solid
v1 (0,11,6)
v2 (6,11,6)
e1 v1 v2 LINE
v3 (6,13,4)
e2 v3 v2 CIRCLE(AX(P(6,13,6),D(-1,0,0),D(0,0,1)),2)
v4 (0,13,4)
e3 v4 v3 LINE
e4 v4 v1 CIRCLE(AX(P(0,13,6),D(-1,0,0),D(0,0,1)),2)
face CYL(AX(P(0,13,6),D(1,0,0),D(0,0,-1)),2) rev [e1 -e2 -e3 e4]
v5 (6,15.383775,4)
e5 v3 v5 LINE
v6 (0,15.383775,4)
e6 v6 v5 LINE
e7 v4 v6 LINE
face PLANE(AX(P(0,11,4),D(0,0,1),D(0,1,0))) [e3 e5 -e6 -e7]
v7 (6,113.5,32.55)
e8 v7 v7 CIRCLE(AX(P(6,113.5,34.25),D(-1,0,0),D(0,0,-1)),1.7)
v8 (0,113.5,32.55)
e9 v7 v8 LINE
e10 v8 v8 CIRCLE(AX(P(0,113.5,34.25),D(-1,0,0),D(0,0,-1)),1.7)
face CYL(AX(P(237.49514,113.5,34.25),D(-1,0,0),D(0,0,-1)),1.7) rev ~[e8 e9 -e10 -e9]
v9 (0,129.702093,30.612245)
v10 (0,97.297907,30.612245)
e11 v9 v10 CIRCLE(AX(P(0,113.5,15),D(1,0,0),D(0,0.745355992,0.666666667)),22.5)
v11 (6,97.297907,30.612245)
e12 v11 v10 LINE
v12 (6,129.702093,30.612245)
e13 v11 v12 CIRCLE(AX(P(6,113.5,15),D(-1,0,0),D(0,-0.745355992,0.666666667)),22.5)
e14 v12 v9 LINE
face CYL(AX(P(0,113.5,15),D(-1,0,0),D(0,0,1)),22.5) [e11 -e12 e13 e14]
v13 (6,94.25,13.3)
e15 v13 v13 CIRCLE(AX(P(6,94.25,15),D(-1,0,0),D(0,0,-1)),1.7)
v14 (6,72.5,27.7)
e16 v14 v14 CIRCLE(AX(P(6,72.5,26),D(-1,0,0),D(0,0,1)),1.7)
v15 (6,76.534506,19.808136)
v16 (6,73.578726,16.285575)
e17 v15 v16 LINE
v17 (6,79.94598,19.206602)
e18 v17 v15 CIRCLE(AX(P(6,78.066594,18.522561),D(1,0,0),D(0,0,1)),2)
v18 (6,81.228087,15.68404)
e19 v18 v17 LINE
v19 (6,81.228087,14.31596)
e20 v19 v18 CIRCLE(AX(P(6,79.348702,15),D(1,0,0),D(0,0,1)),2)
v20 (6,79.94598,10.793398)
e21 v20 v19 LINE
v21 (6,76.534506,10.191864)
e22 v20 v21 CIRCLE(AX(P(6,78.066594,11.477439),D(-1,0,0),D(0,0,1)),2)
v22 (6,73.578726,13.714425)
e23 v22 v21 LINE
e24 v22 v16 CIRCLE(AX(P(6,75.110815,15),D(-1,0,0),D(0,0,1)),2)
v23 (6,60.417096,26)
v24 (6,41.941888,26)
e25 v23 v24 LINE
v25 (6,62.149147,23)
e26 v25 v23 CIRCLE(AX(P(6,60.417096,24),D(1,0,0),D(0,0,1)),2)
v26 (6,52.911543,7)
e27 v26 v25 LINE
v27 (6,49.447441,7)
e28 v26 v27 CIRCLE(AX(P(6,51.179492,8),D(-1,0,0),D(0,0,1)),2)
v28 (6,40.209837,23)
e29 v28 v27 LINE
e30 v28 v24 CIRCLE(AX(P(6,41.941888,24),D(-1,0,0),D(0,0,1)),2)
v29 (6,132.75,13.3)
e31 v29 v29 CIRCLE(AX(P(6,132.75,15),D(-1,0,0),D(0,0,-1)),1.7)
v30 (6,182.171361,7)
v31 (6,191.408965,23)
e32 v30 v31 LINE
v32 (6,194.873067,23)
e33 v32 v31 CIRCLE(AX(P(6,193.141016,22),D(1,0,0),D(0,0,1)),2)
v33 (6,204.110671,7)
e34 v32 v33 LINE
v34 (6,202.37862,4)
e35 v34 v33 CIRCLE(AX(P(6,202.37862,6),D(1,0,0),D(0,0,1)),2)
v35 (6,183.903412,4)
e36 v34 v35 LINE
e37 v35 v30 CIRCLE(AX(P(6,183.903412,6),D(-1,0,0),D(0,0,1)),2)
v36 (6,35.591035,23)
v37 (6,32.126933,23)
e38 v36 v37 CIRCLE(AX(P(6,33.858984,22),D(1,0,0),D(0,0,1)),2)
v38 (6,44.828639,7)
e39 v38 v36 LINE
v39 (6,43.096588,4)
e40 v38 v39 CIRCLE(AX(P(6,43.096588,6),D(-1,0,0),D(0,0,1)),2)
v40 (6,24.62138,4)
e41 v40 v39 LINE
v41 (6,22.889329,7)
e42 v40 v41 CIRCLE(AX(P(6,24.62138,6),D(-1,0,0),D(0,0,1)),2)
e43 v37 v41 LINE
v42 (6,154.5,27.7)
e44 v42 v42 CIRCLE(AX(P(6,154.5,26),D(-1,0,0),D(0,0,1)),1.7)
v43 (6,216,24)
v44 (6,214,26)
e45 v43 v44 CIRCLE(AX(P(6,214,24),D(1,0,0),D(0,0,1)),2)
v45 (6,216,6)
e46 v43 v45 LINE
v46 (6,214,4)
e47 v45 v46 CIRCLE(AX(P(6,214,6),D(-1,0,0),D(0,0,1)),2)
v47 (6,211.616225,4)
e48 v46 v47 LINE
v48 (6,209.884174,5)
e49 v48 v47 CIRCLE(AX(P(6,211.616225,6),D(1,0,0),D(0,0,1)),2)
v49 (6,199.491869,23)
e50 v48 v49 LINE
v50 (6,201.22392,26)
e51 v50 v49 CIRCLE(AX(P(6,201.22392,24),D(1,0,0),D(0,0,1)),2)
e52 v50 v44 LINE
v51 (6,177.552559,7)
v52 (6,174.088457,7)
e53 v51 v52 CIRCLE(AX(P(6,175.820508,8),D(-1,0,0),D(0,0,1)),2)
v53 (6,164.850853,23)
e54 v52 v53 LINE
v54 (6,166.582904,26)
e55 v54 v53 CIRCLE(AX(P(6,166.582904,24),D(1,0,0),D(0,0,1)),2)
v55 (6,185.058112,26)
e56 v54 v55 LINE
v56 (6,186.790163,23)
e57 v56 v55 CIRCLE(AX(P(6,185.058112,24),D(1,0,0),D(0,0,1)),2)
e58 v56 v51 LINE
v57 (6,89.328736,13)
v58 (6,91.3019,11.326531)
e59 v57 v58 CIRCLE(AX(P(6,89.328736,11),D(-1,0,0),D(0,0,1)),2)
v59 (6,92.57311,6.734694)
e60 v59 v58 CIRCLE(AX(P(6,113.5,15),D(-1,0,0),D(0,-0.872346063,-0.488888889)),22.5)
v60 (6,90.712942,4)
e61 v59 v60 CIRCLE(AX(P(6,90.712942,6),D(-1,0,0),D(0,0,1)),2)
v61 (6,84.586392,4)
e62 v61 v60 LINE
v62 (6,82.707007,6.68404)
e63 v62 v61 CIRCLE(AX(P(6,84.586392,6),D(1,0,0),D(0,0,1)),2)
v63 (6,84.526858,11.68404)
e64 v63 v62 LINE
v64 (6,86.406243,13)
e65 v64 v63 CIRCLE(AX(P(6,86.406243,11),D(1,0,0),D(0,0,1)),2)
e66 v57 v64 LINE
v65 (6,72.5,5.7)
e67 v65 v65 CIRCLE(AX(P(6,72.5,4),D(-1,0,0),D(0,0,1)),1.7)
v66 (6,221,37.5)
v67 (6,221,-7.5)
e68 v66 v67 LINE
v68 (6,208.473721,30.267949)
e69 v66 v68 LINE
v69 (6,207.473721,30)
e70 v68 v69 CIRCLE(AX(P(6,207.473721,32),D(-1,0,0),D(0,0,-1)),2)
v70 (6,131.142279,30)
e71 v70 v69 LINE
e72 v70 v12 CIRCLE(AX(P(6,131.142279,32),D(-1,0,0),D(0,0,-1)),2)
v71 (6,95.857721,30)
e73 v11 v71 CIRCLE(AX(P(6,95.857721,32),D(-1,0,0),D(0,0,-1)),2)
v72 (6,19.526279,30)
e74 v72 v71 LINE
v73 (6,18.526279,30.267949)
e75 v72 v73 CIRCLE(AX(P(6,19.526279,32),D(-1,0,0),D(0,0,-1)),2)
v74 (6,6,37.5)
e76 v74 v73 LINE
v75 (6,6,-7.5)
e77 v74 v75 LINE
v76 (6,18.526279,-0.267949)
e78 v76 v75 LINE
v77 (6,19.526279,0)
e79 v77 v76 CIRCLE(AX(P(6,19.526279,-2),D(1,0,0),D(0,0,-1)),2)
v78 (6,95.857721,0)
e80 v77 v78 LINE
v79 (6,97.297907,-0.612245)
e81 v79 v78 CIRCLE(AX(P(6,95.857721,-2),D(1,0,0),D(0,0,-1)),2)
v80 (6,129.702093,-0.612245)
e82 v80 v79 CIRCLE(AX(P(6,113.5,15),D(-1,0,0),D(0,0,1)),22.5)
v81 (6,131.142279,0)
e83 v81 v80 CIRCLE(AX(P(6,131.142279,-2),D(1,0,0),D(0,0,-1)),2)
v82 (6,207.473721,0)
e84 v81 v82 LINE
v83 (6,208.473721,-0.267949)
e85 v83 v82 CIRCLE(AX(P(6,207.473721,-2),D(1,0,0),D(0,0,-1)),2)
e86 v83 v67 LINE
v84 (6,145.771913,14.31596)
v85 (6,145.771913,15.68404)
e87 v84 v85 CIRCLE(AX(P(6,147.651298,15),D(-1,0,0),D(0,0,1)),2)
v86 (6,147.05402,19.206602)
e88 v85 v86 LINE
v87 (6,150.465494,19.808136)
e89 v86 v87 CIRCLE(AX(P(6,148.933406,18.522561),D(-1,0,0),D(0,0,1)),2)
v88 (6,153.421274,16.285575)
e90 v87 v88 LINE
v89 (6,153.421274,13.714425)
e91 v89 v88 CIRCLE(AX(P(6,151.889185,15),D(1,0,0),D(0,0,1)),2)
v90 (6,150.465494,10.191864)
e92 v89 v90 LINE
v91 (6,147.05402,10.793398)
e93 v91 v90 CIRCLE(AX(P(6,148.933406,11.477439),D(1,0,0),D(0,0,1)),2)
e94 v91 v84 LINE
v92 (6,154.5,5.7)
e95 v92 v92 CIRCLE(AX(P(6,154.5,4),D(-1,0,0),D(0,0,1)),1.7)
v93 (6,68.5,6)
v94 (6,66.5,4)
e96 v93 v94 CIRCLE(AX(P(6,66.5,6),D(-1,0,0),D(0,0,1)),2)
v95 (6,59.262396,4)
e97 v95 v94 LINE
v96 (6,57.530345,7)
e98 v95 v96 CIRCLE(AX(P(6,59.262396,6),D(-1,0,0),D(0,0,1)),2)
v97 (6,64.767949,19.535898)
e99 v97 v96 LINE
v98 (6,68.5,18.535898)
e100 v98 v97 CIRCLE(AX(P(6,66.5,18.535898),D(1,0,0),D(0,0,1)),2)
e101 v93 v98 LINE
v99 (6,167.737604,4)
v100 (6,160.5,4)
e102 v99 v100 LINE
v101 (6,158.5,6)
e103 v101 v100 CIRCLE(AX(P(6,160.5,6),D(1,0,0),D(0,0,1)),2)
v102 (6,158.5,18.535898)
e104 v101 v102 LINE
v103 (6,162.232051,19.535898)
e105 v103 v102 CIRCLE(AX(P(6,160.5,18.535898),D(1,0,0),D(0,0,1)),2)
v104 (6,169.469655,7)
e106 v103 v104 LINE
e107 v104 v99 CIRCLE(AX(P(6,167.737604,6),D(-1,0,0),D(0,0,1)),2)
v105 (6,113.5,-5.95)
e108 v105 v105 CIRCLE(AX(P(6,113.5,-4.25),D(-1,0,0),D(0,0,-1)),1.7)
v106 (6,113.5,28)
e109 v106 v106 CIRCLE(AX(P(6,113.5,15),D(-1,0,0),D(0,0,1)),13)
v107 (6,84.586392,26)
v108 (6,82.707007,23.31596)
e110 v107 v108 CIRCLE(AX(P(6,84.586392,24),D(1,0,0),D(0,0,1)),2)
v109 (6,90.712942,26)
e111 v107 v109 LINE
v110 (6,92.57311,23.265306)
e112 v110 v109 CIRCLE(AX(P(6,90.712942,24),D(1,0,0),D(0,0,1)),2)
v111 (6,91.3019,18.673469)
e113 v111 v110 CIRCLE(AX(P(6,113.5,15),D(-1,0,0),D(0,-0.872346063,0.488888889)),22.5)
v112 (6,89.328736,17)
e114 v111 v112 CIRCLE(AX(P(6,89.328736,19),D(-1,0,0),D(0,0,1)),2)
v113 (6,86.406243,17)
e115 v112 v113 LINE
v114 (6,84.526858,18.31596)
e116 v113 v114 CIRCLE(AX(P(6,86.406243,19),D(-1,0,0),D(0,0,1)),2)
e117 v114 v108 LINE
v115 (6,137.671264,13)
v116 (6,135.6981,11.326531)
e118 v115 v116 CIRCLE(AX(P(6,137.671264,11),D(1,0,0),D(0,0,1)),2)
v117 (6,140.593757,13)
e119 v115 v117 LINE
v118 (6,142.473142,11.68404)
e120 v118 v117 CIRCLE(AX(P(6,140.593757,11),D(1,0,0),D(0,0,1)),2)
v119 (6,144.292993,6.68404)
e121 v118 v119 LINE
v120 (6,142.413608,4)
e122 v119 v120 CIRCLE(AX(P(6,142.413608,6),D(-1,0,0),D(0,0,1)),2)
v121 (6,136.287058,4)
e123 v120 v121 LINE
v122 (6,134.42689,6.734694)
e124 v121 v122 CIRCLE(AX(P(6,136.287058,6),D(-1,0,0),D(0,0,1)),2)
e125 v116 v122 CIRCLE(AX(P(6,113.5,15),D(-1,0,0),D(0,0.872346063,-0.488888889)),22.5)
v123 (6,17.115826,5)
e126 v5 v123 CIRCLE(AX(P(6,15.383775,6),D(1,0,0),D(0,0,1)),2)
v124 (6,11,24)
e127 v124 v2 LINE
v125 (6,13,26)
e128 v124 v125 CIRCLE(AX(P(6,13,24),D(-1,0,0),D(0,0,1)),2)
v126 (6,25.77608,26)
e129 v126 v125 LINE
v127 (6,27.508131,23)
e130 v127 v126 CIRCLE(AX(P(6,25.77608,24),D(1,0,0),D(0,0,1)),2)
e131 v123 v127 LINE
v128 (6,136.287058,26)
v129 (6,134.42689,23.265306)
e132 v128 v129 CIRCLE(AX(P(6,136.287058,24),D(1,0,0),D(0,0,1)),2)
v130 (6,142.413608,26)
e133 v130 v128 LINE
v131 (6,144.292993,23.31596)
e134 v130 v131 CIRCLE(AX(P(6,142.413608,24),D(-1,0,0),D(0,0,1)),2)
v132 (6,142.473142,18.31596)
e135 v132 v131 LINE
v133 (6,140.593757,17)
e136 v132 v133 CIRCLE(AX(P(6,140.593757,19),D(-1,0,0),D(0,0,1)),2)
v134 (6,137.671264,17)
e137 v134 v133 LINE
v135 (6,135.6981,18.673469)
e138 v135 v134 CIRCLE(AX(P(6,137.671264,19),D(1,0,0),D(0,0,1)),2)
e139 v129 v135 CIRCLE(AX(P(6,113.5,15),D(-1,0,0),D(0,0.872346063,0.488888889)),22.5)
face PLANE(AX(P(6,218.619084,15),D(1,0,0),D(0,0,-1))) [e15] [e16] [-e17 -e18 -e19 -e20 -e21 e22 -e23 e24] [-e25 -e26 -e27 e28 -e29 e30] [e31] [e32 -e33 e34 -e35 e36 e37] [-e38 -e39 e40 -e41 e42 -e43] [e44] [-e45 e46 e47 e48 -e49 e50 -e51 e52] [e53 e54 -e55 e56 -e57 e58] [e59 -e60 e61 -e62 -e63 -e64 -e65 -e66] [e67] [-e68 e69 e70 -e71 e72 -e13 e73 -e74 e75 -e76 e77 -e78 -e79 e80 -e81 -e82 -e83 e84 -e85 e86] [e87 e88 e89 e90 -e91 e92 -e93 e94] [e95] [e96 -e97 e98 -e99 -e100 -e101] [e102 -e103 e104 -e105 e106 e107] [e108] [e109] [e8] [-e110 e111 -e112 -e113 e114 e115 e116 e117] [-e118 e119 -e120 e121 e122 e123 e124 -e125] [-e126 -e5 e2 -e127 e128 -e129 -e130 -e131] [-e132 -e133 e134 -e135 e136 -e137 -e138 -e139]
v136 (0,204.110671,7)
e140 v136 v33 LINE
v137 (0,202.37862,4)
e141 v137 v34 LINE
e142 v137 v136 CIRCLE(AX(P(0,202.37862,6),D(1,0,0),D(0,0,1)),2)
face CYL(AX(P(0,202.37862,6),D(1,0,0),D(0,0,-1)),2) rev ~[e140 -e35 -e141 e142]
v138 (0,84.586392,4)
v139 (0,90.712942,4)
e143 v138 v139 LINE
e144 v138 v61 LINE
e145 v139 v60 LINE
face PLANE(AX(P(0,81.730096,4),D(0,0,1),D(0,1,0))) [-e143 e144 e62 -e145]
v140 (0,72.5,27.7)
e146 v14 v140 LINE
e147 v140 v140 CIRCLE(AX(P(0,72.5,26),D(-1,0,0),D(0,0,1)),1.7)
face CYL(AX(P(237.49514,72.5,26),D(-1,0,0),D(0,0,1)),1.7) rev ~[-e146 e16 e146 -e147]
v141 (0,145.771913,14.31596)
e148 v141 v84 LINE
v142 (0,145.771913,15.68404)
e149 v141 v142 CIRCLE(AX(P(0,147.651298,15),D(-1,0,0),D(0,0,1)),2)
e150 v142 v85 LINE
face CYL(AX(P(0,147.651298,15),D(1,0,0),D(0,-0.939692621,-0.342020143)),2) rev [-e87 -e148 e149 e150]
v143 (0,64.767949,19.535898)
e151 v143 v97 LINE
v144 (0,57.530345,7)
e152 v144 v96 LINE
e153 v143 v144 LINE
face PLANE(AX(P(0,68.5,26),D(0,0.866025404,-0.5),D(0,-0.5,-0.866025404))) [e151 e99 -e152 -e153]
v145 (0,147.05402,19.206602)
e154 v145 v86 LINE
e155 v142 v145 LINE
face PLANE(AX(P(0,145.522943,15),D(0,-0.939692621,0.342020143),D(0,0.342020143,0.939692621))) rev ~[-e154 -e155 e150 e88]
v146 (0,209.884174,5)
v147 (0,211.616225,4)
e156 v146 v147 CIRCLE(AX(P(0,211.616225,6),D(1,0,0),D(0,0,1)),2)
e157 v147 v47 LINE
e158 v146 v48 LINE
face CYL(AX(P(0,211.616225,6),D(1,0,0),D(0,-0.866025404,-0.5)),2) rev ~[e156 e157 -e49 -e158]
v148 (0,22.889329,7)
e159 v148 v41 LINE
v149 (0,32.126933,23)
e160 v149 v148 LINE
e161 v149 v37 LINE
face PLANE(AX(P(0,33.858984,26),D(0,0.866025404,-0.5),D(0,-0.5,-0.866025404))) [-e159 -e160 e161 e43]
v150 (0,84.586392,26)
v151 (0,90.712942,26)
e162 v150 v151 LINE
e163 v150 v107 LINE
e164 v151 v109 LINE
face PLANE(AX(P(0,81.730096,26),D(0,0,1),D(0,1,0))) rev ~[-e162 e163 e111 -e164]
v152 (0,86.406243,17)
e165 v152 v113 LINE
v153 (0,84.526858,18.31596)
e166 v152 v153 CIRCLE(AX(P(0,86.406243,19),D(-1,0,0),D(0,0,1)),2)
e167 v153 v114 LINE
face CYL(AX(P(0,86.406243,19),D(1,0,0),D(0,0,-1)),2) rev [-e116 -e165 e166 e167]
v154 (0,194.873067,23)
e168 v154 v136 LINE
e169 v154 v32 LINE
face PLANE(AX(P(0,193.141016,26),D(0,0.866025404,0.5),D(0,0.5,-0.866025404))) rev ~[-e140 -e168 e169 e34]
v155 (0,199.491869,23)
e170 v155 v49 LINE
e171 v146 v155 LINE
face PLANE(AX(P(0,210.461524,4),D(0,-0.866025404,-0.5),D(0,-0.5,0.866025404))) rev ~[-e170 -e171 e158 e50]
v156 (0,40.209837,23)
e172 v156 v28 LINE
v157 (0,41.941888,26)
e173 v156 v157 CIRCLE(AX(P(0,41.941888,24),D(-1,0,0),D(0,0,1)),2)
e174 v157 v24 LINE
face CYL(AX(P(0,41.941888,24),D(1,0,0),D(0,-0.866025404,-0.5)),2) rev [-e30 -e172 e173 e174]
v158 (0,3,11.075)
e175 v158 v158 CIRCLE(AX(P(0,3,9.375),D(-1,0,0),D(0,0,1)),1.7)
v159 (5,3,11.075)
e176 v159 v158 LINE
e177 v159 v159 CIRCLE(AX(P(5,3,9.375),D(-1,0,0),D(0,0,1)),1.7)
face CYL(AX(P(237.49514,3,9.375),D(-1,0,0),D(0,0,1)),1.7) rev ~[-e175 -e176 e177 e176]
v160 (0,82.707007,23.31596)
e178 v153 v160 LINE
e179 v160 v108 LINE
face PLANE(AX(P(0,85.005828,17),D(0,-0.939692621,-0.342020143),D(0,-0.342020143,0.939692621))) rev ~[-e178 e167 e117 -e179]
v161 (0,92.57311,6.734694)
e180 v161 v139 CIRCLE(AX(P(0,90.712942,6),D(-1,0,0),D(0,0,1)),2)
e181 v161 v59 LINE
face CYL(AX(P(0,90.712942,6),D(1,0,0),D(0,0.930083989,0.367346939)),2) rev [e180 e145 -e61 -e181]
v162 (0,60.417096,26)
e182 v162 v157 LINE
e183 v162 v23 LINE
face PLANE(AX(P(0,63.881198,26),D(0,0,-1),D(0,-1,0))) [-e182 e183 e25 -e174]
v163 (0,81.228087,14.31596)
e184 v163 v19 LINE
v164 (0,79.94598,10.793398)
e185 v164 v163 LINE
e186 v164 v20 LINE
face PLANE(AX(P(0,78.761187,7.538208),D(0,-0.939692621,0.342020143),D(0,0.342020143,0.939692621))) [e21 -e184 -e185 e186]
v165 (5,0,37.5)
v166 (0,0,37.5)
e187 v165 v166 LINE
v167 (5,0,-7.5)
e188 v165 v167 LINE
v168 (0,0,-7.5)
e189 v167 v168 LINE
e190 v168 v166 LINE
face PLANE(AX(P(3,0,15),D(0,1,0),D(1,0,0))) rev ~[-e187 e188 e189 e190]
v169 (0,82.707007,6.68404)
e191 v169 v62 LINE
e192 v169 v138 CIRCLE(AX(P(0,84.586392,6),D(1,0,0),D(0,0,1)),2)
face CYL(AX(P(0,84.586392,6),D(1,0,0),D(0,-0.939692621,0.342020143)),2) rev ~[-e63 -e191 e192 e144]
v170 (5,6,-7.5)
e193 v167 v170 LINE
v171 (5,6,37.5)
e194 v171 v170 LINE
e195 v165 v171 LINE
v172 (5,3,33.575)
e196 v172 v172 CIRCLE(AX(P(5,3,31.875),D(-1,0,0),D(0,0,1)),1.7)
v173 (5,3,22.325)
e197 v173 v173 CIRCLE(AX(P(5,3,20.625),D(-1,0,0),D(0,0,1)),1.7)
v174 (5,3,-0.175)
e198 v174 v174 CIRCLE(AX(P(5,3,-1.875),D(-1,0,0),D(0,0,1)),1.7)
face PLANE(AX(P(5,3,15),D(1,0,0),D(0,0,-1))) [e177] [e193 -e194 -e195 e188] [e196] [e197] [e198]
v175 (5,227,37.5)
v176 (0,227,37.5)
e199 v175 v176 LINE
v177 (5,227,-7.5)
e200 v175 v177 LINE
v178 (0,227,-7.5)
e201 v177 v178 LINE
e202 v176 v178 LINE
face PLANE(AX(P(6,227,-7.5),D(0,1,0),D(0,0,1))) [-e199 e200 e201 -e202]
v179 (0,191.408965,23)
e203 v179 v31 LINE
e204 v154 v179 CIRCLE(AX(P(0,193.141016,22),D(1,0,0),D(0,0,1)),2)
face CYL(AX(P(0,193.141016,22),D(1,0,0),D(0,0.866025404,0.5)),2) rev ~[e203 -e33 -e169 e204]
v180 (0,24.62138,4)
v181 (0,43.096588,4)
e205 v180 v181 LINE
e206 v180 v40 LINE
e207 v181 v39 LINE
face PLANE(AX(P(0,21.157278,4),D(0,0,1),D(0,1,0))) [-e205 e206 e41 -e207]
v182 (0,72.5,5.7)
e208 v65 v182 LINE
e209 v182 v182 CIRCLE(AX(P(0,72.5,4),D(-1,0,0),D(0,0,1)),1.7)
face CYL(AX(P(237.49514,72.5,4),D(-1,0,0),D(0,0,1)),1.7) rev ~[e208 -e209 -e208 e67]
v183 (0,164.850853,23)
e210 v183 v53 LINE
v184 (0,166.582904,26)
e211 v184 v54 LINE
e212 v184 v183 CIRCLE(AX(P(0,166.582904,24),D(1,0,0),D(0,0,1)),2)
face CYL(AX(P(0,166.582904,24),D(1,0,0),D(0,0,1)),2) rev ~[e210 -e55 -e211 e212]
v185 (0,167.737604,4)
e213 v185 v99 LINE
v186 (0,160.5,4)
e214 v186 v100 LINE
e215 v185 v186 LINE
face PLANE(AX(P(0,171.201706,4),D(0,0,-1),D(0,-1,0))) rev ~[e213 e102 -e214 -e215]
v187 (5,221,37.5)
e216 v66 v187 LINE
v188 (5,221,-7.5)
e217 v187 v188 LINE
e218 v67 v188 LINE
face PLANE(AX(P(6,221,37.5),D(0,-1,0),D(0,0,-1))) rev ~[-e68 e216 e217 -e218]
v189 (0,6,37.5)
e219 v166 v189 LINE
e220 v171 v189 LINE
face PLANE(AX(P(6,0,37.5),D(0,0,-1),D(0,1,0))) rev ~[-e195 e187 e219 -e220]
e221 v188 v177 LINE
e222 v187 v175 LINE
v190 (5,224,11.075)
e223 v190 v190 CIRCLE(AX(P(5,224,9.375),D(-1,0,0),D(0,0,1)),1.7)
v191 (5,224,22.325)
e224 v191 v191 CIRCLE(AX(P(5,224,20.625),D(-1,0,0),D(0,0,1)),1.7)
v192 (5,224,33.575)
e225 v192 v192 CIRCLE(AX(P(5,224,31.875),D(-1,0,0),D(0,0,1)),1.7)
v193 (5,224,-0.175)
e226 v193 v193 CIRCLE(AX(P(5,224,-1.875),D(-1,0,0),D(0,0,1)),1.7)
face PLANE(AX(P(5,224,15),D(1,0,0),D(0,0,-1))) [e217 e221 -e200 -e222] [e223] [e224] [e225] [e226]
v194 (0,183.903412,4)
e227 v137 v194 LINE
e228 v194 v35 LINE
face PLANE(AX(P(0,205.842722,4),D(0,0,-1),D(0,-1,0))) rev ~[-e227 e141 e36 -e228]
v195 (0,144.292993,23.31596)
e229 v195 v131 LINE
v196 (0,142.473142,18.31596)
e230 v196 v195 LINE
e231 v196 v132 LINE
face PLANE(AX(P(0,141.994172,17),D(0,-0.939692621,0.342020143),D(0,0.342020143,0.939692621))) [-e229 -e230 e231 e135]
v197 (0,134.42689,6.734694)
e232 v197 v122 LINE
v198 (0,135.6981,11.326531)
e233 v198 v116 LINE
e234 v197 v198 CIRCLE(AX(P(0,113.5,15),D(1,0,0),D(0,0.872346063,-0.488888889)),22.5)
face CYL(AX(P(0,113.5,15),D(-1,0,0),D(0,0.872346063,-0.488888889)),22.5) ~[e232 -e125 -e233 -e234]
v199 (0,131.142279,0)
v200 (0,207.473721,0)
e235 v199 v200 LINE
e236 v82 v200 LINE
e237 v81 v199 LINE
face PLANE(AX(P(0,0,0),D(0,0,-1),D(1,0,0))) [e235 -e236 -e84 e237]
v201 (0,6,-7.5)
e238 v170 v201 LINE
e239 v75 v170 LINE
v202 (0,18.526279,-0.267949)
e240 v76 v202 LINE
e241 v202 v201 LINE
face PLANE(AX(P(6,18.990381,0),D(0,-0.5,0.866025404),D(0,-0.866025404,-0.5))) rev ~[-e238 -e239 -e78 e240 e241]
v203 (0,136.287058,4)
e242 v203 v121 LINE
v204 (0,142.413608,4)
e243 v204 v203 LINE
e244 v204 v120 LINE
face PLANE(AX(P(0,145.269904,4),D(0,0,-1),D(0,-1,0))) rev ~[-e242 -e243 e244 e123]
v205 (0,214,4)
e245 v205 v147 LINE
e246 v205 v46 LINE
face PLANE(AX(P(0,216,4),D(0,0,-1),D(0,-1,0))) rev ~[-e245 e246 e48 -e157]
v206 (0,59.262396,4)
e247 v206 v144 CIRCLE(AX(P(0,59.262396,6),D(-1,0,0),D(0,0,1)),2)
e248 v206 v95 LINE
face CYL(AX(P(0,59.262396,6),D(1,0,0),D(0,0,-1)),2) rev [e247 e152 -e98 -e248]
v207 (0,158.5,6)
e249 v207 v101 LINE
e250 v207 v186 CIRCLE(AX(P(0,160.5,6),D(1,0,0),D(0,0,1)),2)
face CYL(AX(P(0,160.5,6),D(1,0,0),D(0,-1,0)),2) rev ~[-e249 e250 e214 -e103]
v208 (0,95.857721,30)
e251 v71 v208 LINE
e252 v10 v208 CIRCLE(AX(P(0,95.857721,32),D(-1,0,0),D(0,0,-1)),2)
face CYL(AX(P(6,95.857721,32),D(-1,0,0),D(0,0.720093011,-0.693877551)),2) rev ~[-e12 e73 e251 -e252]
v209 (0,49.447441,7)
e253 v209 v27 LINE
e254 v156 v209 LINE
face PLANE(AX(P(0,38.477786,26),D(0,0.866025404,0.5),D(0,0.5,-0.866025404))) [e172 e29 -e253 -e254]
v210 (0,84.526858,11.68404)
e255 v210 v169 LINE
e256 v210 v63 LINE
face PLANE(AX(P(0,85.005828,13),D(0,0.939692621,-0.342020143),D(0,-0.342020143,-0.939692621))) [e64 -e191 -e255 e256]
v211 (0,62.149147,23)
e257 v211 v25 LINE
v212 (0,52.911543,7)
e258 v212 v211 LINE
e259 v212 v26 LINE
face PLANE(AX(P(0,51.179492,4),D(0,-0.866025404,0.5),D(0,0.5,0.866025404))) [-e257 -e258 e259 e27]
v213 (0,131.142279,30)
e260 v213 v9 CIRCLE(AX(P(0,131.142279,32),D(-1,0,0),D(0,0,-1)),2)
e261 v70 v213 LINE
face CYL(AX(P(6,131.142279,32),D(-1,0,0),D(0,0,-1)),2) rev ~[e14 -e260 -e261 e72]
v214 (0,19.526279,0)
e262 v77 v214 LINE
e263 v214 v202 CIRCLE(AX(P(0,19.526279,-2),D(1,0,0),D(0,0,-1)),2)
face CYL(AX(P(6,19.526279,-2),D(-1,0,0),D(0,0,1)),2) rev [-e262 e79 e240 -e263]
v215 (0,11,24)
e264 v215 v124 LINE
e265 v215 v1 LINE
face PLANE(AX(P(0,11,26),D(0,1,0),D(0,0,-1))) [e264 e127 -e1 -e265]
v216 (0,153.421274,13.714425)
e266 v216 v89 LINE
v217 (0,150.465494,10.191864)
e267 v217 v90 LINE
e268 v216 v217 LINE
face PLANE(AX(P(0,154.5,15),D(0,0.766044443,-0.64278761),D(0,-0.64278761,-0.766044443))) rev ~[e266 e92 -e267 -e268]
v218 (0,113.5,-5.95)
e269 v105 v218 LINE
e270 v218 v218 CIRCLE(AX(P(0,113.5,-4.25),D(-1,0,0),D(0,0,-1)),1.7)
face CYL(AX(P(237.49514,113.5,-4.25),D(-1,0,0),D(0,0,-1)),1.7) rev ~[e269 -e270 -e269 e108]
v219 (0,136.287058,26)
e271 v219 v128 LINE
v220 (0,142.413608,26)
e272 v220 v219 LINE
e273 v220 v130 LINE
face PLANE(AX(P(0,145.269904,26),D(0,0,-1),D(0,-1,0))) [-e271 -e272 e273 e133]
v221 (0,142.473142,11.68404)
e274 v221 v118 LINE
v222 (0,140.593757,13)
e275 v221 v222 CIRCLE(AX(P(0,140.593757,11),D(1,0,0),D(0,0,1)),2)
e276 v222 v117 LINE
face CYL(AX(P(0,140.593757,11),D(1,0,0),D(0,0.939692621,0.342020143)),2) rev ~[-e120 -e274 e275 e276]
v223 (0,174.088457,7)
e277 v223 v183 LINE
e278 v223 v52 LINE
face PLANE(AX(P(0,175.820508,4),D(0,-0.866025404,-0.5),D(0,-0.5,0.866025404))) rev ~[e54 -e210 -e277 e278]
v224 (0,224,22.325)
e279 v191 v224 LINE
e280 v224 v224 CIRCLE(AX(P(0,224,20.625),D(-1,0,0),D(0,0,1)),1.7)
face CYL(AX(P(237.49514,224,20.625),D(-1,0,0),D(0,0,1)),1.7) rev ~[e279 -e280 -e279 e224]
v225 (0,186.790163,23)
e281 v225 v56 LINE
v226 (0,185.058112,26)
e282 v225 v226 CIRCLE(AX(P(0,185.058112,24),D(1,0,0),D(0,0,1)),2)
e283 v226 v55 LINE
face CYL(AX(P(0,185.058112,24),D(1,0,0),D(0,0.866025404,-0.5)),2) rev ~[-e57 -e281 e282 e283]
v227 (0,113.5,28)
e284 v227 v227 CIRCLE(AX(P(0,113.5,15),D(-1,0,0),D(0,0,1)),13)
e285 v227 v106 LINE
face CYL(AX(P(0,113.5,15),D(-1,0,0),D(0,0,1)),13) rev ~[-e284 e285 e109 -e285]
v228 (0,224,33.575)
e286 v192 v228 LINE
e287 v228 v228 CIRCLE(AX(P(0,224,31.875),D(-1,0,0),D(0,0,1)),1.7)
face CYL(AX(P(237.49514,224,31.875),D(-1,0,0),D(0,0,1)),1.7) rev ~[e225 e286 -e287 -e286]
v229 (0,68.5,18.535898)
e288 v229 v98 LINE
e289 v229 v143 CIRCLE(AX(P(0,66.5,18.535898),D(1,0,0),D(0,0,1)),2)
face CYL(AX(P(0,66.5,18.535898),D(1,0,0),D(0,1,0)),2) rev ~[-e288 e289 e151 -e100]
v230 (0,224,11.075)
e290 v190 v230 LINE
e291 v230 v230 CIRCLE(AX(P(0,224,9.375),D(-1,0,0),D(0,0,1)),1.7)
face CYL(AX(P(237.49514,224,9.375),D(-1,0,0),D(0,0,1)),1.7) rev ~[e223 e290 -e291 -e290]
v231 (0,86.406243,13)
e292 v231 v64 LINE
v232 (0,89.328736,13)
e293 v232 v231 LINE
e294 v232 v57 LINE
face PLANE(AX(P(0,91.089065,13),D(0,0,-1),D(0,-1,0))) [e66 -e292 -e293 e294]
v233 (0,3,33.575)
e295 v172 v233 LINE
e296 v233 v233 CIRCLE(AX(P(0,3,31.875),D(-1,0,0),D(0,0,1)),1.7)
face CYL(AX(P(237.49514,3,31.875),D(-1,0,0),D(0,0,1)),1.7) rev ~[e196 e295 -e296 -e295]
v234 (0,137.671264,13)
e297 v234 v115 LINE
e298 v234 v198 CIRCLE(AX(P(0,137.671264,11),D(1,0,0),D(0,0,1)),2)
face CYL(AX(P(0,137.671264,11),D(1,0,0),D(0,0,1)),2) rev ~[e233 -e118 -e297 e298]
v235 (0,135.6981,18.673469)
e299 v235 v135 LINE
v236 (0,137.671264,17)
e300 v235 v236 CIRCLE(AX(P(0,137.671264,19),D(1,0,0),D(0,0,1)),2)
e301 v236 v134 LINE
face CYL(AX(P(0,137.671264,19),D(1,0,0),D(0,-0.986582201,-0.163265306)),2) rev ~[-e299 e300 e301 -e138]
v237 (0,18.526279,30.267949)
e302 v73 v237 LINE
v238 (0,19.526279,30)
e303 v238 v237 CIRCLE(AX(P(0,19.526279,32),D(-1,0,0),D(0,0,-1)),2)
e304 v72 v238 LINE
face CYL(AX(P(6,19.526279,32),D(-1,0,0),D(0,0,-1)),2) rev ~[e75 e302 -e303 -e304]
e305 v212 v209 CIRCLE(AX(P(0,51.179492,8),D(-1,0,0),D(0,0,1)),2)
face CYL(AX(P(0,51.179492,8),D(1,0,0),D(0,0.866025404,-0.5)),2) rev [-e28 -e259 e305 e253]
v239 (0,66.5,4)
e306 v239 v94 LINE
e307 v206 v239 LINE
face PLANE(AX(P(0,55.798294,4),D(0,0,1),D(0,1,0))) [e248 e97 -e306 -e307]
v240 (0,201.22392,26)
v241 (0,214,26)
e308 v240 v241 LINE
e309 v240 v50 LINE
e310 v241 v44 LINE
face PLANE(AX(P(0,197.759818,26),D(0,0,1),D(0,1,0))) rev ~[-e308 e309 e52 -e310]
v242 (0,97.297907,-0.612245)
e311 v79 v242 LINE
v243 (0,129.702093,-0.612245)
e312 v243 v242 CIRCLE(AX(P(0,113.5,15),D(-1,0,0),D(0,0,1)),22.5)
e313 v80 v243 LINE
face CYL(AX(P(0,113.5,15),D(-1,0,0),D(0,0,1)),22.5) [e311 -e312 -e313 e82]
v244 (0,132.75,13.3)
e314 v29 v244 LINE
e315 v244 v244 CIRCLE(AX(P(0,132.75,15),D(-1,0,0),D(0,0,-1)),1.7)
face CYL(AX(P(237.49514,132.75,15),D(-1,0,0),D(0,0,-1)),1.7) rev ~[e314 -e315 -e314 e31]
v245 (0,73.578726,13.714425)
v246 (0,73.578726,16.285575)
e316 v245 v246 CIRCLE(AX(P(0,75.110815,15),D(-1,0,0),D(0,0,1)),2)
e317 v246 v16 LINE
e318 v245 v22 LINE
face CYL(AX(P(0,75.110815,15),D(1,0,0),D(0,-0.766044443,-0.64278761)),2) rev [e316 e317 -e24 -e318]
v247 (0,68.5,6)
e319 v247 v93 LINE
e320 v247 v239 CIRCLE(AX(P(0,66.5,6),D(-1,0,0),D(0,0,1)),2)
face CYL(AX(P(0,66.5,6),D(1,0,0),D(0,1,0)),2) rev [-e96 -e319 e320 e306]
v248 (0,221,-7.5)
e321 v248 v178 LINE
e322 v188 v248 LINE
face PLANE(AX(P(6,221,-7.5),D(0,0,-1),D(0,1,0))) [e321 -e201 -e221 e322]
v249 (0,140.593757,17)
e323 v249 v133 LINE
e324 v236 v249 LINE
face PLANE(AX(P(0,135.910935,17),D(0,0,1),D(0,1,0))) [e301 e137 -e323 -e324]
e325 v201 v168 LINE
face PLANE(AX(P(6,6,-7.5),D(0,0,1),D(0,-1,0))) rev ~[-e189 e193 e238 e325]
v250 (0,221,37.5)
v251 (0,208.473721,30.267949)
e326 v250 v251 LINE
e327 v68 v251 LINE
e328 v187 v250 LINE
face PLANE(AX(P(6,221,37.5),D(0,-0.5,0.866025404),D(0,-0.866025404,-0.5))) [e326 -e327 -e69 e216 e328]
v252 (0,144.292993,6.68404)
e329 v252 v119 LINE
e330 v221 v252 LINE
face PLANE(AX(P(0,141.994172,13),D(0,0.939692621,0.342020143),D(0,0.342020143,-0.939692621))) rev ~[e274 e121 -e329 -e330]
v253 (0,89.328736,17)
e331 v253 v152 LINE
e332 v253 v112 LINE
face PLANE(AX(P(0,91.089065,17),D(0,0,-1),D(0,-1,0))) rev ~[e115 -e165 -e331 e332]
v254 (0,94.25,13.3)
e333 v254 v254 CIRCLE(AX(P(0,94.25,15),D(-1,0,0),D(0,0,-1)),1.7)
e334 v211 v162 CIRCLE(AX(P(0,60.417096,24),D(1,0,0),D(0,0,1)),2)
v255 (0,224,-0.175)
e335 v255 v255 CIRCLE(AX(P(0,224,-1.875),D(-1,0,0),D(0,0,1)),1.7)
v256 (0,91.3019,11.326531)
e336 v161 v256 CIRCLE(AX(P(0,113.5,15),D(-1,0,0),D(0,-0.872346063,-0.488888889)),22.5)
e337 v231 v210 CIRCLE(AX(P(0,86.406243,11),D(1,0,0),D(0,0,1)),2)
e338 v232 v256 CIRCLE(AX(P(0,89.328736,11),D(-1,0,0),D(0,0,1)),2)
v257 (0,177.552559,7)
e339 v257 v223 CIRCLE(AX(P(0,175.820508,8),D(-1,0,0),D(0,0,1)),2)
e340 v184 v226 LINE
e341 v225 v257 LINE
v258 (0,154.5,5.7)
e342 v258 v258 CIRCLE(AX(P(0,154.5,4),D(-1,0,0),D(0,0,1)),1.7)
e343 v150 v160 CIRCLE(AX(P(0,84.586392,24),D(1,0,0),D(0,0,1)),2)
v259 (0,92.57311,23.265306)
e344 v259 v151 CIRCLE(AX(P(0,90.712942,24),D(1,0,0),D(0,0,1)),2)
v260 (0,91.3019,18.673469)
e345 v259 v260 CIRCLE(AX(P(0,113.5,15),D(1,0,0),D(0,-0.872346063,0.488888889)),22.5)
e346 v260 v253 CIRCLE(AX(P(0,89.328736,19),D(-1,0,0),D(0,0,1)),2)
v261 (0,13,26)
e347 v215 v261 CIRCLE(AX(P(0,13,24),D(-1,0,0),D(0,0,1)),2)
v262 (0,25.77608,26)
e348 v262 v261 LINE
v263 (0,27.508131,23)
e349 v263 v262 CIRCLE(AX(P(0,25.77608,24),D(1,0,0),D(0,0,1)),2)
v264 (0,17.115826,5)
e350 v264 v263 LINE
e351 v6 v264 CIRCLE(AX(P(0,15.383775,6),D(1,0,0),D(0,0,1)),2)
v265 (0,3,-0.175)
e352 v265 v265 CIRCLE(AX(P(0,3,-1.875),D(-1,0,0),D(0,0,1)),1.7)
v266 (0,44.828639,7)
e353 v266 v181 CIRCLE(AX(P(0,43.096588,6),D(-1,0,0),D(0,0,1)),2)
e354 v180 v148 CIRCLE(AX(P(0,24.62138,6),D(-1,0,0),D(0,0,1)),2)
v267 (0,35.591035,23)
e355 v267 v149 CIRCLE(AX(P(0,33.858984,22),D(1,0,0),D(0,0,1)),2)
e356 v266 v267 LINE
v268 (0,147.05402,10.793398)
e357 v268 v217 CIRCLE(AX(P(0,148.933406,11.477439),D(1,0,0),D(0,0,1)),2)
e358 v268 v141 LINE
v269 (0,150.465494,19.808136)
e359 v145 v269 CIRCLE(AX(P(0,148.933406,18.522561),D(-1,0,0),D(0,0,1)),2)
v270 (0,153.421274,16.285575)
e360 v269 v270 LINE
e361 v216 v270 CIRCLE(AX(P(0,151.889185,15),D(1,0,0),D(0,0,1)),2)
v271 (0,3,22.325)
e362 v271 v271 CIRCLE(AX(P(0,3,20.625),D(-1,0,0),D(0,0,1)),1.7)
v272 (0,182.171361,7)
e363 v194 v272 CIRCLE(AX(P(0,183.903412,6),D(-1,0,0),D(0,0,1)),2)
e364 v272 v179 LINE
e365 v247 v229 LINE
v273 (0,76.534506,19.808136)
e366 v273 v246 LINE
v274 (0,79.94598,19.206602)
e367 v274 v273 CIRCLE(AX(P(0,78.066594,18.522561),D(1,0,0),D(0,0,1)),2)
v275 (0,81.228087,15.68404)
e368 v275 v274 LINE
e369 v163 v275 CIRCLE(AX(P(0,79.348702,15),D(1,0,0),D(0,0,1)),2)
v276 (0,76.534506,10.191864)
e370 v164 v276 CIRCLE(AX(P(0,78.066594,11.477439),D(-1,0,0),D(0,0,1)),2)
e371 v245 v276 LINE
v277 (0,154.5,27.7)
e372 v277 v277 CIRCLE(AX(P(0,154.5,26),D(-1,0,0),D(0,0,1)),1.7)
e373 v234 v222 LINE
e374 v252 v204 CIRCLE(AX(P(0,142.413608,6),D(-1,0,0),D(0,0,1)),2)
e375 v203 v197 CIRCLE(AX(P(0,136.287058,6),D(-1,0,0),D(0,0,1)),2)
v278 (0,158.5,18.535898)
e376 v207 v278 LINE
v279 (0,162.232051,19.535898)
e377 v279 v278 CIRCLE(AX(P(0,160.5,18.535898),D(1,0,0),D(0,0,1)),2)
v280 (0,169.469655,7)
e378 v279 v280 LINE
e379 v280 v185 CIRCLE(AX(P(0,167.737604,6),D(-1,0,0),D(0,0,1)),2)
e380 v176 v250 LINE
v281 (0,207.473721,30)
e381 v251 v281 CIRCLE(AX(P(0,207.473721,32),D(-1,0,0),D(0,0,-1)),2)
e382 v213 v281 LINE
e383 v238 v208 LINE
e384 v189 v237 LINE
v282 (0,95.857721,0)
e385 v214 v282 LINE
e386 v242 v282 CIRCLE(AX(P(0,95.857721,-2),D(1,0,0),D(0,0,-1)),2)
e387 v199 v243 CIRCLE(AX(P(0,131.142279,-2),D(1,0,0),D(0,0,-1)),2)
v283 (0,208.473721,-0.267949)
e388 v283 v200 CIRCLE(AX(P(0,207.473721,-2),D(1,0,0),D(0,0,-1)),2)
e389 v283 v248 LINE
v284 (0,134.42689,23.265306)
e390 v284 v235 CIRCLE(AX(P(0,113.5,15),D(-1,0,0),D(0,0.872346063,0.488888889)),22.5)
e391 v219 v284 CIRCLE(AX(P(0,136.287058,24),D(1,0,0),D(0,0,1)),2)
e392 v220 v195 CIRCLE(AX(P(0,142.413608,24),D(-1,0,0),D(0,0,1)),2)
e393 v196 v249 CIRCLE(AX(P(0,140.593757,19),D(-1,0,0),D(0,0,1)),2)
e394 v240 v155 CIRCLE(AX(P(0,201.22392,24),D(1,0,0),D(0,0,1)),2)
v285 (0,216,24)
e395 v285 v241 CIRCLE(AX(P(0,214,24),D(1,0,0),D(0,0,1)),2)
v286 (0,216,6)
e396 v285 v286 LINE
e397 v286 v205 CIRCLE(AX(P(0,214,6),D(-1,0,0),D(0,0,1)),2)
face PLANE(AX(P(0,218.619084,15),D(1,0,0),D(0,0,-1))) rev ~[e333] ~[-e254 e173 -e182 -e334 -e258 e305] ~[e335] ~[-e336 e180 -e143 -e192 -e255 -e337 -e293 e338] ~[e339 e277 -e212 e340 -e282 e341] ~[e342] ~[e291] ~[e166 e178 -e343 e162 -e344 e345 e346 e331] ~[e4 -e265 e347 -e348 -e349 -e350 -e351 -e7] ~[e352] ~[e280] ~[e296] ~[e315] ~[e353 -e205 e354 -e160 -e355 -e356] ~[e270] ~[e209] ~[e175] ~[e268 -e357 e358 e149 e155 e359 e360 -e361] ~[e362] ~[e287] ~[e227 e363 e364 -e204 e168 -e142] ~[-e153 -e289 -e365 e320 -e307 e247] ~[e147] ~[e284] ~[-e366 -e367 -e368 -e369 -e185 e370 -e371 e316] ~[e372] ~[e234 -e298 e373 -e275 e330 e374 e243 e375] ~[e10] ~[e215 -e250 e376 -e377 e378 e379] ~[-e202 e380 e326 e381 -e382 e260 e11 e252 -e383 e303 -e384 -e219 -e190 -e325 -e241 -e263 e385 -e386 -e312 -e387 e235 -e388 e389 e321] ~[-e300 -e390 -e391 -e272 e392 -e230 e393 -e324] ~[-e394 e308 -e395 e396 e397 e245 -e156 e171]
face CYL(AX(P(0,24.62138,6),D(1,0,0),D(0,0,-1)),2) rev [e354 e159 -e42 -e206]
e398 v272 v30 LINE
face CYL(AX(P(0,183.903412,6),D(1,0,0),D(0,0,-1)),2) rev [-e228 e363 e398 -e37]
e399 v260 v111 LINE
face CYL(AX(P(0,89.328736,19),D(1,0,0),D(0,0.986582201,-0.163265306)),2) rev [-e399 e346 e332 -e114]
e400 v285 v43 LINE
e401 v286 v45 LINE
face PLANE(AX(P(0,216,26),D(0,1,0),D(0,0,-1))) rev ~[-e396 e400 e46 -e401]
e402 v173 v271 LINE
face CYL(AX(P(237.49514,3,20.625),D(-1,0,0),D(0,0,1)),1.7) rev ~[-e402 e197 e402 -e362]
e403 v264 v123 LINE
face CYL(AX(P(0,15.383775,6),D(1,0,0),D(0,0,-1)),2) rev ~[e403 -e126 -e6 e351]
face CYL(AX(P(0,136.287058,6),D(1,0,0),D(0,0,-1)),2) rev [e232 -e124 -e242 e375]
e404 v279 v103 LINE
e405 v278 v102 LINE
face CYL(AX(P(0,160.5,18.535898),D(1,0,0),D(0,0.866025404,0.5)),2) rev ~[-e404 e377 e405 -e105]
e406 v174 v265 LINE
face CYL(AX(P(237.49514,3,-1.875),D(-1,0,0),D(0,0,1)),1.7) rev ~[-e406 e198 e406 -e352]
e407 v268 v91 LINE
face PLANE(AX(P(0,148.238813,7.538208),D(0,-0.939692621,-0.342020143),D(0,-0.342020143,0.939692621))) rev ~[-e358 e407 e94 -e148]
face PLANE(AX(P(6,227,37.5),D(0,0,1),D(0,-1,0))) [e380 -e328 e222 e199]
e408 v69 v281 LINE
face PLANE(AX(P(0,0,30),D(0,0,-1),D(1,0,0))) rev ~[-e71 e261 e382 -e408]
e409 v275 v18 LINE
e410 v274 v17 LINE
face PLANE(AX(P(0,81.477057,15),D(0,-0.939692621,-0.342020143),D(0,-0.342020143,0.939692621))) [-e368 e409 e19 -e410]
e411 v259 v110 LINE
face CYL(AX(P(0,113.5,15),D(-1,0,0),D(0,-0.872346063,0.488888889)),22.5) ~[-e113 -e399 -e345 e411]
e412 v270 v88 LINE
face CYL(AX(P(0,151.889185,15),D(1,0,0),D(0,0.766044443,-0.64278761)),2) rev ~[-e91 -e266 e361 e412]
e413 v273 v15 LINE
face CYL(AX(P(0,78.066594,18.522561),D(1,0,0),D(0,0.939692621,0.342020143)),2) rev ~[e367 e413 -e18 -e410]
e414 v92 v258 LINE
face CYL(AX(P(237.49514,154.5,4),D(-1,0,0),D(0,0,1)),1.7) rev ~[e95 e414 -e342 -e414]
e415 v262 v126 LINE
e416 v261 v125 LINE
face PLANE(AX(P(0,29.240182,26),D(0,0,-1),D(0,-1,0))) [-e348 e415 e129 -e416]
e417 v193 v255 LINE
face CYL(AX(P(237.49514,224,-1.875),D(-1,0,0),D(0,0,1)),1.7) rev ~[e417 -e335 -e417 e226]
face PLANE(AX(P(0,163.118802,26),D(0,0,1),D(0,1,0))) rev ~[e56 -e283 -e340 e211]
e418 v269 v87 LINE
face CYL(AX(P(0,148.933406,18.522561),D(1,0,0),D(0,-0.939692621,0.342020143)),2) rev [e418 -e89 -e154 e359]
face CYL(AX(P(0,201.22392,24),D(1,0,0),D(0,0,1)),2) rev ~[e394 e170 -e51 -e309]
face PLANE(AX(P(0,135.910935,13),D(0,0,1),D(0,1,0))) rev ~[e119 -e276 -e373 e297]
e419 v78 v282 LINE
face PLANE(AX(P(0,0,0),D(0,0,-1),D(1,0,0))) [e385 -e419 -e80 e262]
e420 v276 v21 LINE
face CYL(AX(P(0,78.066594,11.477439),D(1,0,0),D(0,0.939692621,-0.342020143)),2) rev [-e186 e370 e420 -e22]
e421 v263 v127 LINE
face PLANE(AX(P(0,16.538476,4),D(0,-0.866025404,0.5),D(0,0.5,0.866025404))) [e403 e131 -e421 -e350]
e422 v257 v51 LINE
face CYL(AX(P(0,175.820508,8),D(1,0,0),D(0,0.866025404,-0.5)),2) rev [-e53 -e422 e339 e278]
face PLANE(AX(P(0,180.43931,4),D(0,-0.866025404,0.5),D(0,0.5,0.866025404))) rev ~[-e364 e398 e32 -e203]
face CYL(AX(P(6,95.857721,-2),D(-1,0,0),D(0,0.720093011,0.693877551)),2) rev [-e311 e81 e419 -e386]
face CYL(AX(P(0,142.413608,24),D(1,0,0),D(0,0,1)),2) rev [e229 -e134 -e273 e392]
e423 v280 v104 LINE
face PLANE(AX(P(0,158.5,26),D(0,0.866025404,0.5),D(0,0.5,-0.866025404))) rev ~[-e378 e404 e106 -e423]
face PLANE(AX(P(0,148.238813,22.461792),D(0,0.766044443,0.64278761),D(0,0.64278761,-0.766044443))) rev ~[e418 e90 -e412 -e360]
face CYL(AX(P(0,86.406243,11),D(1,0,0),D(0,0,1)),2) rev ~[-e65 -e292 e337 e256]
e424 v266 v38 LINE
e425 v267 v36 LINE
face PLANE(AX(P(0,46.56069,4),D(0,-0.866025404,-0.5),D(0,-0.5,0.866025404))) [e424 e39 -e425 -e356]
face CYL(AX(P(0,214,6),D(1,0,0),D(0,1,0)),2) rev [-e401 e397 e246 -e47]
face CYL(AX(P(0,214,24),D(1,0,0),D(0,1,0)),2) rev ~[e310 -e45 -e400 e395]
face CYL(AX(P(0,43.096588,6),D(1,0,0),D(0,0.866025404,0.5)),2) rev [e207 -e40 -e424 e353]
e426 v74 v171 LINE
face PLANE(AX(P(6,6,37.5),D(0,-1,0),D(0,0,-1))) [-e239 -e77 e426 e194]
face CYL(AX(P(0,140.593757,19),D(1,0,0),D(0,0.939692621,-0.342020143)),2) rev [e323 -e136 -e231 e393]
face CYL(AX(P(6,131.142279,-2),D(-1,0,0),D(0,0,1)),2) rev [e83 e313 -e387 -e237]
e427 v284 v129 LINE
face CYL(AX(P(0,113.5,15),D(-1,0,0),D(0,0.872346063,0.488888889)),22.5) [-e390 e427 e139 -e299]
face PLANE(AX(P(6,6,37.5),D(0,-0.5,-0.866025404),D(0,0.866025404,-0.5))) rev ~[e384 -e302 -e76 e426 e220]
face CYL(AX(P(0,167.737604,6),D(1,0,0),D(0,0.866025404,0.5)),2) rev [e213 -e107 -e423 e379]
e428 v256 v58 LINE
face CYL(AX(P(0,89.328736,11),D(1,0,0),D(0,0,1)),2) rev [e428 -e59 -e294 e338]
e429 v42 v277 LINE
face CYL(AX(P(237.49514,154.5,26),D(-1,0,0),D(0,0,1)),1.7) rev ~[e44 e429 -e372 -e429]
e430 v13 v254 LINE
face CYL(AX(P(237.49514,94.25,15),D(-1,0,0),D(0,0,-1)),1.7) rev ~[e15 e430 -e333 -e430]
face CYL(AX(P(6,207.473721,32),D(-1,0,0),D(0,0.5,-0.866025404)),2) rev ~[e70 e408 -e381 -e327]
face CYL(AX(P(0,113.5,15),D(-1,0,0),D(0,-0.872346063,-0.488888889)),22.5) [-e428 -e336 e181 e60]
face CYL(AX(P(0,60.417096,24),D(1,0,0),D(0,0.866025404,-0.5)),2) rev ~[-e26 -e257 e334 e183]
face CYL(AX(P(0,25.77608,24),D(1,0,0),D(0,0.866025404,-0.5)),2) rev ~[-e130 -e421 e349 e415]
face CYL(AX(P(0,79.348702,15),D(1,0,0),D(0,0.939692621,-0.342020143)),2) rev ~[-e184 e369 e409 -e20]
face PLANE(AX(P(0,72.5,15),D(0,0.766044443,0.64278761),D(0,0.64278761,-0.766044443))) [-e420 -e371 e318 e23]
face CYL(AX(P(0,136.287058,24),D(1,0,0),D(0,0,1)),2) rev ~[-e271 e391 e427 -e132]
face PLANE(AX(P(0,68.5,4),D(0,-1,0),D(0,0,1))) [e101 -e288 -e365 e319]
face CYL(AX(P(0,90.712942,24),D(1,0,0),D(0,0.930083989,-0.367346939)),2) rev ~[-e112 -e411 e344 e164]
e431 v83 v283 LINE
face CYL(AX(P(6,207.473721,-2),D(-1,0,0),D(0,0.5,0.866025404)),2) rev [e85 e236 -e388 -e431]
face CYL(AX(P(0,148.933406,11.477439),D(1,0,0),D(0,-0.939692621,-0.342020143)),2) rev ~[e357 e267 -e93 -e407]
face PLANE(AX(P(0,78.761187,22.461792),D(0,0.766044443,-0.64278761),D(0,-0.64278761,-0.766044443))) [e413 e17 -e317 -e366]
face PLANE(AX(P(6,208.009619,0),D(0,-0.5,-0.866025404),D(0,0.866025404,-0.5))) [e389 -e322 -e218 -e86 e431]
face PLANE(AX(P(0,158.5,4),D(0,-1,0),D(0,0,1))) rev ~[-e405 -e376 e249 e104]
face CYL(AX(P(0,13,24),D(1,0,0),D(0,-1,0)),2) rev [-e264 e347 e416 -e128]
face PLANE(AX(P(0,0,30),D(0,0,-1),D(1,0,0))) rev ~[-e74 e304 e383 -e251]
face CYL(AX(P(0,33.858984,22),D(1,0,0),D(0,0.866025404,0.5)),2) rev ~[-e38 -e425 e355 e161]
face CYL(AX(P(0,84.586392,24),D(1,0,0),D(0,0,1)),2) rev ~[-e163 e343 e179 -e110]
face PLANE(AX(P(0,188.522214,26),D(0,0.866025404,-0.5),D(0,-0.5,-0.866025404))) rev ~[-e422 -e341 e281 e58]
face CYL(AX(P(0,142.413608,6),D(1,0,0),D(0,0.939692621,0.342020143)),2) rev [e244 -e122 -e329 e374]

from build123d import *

# Parameters (mm, degrees)
SKETCH_1_W          = 6
SKETCH_1_H          = 30
EXTRUDE_1_DEPTH     = 227
SKETCH_2_R          = 22.5
EXTRUDE_2_DEPTH     = 6
SKETCH_3_R          = 13
CUT_EXTRUDE_1_DEPTH = 231.154839184
HOLE_WIZARD_M32_D   = 3.4
HOLE_WIZARD_M33_D   = 3.4
EXTRUDE_3_DEPTH     = 6
HOLE_WIZARD_M31_D   = 3.4
SKETCH_14_W         = 45
SKETCH_14_H         = 6
CUT_EXTRUDE_2_DEPTH = 1
CUT_EXTRUDE_3_REACH = 232.155
FILLET_1_R          = 2


with BuildPart() as part:
    # Sketch 1 → Extrude 1 (new body)
    with BuildSketch(Plane(origin=(0, 0, 0), x_dir=(1, 0, 0), z_dir=(0, 1, 0))):
        with Locations((3, -15)):
            Rectangle(SKETCH_1_W, SKETCH_1_H)
    extrude(amount=EXTRUDE_1_DEPTH)

    # Sketch 2 → Extrude 2 (add)
    with BuildSketch(Plane.ZY):
        with Locations((15, 113.5)):
            Circle(SKETCH_2_R)
    extrude(amount=-EXTRUDE_2_DEPTH)

    # Sketch 3 → Cut-Extrude 1 (cut, through all)
    with BuildSketch(Plane.ZY):
        with Locations((15, 113.5)):
            Circle(SKETCH_3_R)
    extrude(amount=-CUT_EXTRUDE_1_DEPTH, mode=Mode.SUBTRACT)

    # Hole Wizard M32 (through all)
    with Locations(Plane(origin=(6, -25.024735225, 7.262908886), x_dir=(0, 0, 1), z_dir=(1, 0, 0))):
        with Locations((7.737091114, -157.774735225), (-11.512908886, -138.524735225), (7.737091114, -119.274735225), (26.987091114, -138.524735225)):
            Hole(HOLE_WIZARD_M32_D / 2)

    # Hole Wizard M33 (through all)
    with Locations(Plane(origin=(6, 0, 0), x_dir=(0, 0, -1), z_dir=(1, 0, 0))):
        with Locations((-26, 154.5), (-4, 154.5), (-4, 72.5), (-26, 72.5)):
            Hole(HOLE_WIZARD_M33_D / 2)

    # Sketch 11 → Extrude 3 (add)
    with BuildSketch(Plane(origin=(6, 0, 0), x_dir=(0, 0, -1), z_dir=(1, 0, 0))):
        Polygon((-37.5, 221), (-30, 208.009618943), (0, 208.009618943), (7.5, 221), (7.5, 227), (-37.5, 227), align=None)
        Polygon((0, 18.990381057), (7.5, 6), (7.5, 0), (-37.5, 0), (-37.5, 6), (-30, 18.990381057), align=None)
    extrude(amount=-EXTRUDE_3_DEPTH)

    # Hole Wizard M31 (through all)
    with Locations(Plane(origin=(6, 0, 0), x_dir=(0, 0, -1), z_dir=(1, 0, 0))):
        with Locations((-31.875, 224), (-20.625, 224), (-9.375, 224), (1.875, 224), (-31.875, 3), (-20.625, 3), (-9.375, 3), (1.875, 3)):
            Hole(HOLE_WIZARD_M31_D / 2)

    # Sketch 14 → Cut-Extrude 2 (cut)
    with BuildSketch(Plane(origin=(6, 0, 0), x_dir=(0, 0, -1), z_dir=(1, 0, 0))):
        with Locations((-15, 224)):
            Rectangle(SKETCH_14_W, SKETCH_14_H)
        with Locations((-15, 3)):
            Rectangle(SKETCH_14_W, SKETCH_14_H)
    extrude(amount=-CUT_EXTRUDE_2_DEPTH, mode=Mode.SUBTRACT)

    # Sketch 15 → Cut-Extrude 3 (cut, up to next)
    with BuildSketch(Plane.ZY, mode=Mode.PRIVATE) as cut_extrude_3_sk1:
        with BuildLine():
            Line((13, 91.089065169), (13, 85.005828051))
            Line((13, 85.005828051), (4, 81.730095943))
            Line((4, 81.730095943), (4, 93.872213574))
            ThreePointArc((4, 93.872213574), (8.352708916, 92.004337153), (13, 91.089065169))
        make_face()
    cut_extrude_3_tool1 = extrude(cut_extrude_3_sk1.sketch, amount=-CUT_EXTRUDE_3_REACH, mode=Mode.PRIVATE) & part.part
    # Sketch 15 → Cut-Extrude 3 (cut, up to next)
    with BuildSketch(Plane.ZY, mode=Mode.PRIVATE) as cut_extrude_3_sk2:
        with BuildLine():
            Line((17, 91.089065169), (17, 85.005828051))
            Line((17, 85.005828051), (26, 81.730095943))
            Line((26, 81.730095943), (26, 93.872213574))
            ThreePointArc((26, 93.872213574), (21.647291084, 92.004337153), (17, 91.089065169))
        make_face()
    cut_extrude_3_tool2 = extrude(cut_extrude_3_sk2.sketch, amount=-CUT_EXTRUDE_3_REACH, mode=Mode.PRIVATE) & part.part
    # Sketch 15 → Cut-Extrude 3 (cut, up to next)
    with BuildSketch(Plane.ZY, mode=Mode.PRIVATE) as cut_extrude_3_sk3:
        Polygon((7.538207724, 78.761187147), (15, 81.47705743), (22.461792276, 78.761187147), (15, 72.5), align=None)
    cut_extrude_3_tool3 = extrude(cut_extrude_3_sk3.sketch, amount=-CUT_EXTRUDE_3_REACH, mode=Mode.PRIVATE) & part.part
    # Sketch 15 → Cut-Extrude 3 (cut, up to next)
    with BuildSketch(Plane.ZY, mode=Mode.PRIVATE) as cut_extrude_3_sk4:
        Polygon((4, 68.5), (26, 68.5), (4, 55.798294078), align=None)
    cut_extrude_3_tool4 = extrude(cut_extrude_3_sk4.sketch, amount=-CUT_EXTRUDE_3_REACH, mode=Mode.PRIVATE) & part.part
    # Sketch 15 → Cut-Extrude 3 (cut, up to next)
    with BuildSketch(Plane.ZY, mode=Mode.PRIVATE) as cut_extrude_3_sk5:
        Polygon((4, 51.179491924), (26, 63.881197846), (26, 38.477786002), align=None)
    cut_extrude_3_tool5 = extrude(cut_extrude_3_sk5.sketch, amount=-CUT_EXTRUDE_3_REACH, mode=Mode.PRIVATE) & part.part
    # Sketch 15 → Cut-Extrude 3 (cut, up to next)
    with BuildSketch(Plane.ZY, mode=Mode.PRIVATE) as cut_extrude_3_sk6:
        Polygon((4, 46.560689771), (26, 33.858983849), (4, 21.157277926), align=None)
    cut_extrude_3_tool6 = extrude(cut_extrude_3_sk6.sketch, amount=-CUT_EXTRUDE_3_REACH, mode=Mode.PRIVATE) & part.part
    # Sketch 15 → Cut-Extrude 3 (cut, up to next)
    with BuildSketch(Plane.ZY, mode=Mode.PRIVATE) as cut_extrude_3_sk7:
        Polygon((4, 11), (4, 16.538475773), (26, 29.240181695), (26, 11), align=None)
    cut_extrude_3_tool7 = extrude(cut_extrude_3_sk7.sketch, amount=-CUT_EXTRUDE_3_REACH, mode=Mode.PRIVATE) & part.part
    # Sketch 15 → Cut-Extrude 3 (cut, up to next)
    with BuildSketch(Plane.ZY, mode=Mode.PRIVATE) as cut_extrude_3_sk8:
        Polygon((4, 171.201705922), (4, 158.5), (26, 158.5), align=None)
    cut_extrude_3_tool8 = extrude(cut_extrude_3_sk8.sketch, amount=-CUT_EXTRUDE_3_REACH, mode=Mode.PRIVATE) & part.part
    # Sketch 15 → Cut-Extrude 3 (cut, up to next)
    with BuildSketch(Plane.ZY, mode=Mode.PRIVATE) as cut_extrude_3_sk9:
        with BuildLine():
            Line((26, 145.269904057), (26, 133.127786426))
            ThreePointArc((26, 133.127786426), (21.647291084, 134.995662847), (17, 135.910934831))
            Line((17, 135.910934831), (17, 141.994171949))
            Line((17, 141.994171949), (26, 145.269904057))
        make_face()
    cut_extrude_3_tool9 = extrude(cut_extrude_3_sk9.sketch, amount=-CUT_EXTRUDE_3_REACH, mode=Mode.PRIVATE) & part.part
    # Sketch 15 → Cut-Extrude 3 (cut, up to next)
    with BuildSketch(Plane.ZY, mode=Mode.PRIVATE) as cut_extrude_3_sk10:
        with BuildLine():
            Line((4, 145.269904057), (4, 133.127786426))
            ThreePointArc((4, 133.127786426), (8.352708916, 134.995662847), (13, 135.910934831))
            Line((13, 135.910934831), (13, 141.994171949))
            Line((13, 141.994171949), (4, 145.269904057))
        make_face()
    cut_extrude_3_tool10 = extrude(cut_extrude_3_sk10.sketch, amount=-CUT_EXTRUDE_3_REACH, mode=Mode.PRIVATE) & part.part
    # Sketch 15 → Cut-Extrude 3 (cut, up to next)
    with BuildSketch(Plane.ZY, mode=Mode.PRIVATE) as cut_extrude_3_sk11:
        Polygon((15, 145.52294257), (22.461792276, 148.238812853), (15, 154.5), (7.538207724, 148.238812853), align=None)
    cut_extrude_3_tool11 = extrude(cut_extrude_3_sk11.sketch, amount=-CUT_EXTRUDE_3_REACH, mode=Mode.PRIVATE) & part.part
    # Sketch 15 → Cut-Extrude 3 (cut, up to next)
    with BuildSketch(Plane.ZY, mode=Mode.PRIVATE) as cut_extrude_3_sk12:
        Polygon((4, 175.820508076), (26, 163.118802154), (26, 188.522213998), align=None)
    cut_extrude_3_tool12 = extrude(cut_extrude_3_sk12.sketch, amount=-CUT_EXTRUDE_3_REACH, mode=Mode.PRIVATE) & part.part
    # Sketch 15 → Cut-Extrude 3 (cut, up to next)
    with BuildSketch(Plane.ZY, mode=Mode.PRIVATE) as cut_extrude_3_sk13:
        Polygon((4, 180.439310229), (26, 193.141016151), (4, 205.842722074), align=None)
    cut_extrude_3_tool13 = extrude(cut_extrude_3_sk13.sketch, amount=-CUT_EXTRUDE_3_REACH, mode=Mode.PRIVATE) & part.part
    # Sketch 15 → Cut-Extrude 3 (cut, up to next)
    with BuildSketch(Plane.ZY, mode=Mode.PRIVATE) as cut_extrude_3_sk14:
        Polygon((4, 216), (4, 210.461524227), (26, 197.759818305), (26, 216), align=None)
    cut_extrude_3_tool14 = extrude(cut_extrude_3_sk14.sketch, amount=-CUT_EXTRUDE_3_REACH, mode=Mode.PRIVATE) & part.part
    add(cut_extrude_3_tool1.solids().sort_by_distance((0, 87.736423, 7.983843))[0], mode=Mode.SUBTRACT)
    add(cut_extrude_3_tool2.solids().sort_by_distance((0, 87.736423, 22.016157))[0], mode=Mode.SUBTRACT)
    add(cut_extrude_3_tool3.solids().sort_by_distance((0, 77.579415, 15))[0], mode=Mode.SUBTRACT)
    add(cut_extrude_3_tool4.solids().sort_by_distance((0, 64.266098, 11.333333))[0], mode=Mode.SUBTRACT)
    add(cut_extrude_3_tool5.solids().sort_by_distance((0, 51.179492, 18.666667))[0], mode=Mode.SUBTRACT)
    add(cut_extrude_3_tool6.solids().sort_by_distance((0, 33.858984, 11.333333))[0], mode=Mode.SUBTRACT)
    add(cut_extrude_3_tool7.solids().sort_by_distance((0, 17.510064, 16.958602))[0], mode=Mode.SUBTRACT)
    add(cut_extrude_3_tool8.solids().sort_by_distance((0, 162.733902, 11.333333))[0], mode=Mode.SUBTRACT)
    add(cut_extrude_3_tool9.solids().sort_by_distance((0, 139.263577, 22.016157))[0], mode=Mode.SUBTRACT)
    add(cut_extrude_3_tool10.solids().sort_by_distance((0, 139.263577, 7.983843))[0], mode=Mode.SUBTRACT)
    add(cut_extrude_3_tool11.solids().sort_by_distance((0, 149.420585, 15))[0], mode=Mode.SUBTRACT)
    add(cut_extrude_3_tool12.solids().sort_by_distance((0, 175.820508, 18.666667))[0], mode=Mode.SUBTRACT)
    add(cut_extrude_3_tool13.solids().sort_by_distance((0, 193.141016, 11.333333))[0], mode=Mode.SUBTRACT)
    add(cut_extrude_3_tool14.solids().sort_by_distance((0, 209.489936, 16.958602))[0], mode=Mode.SUBTRACT)

    # Fillet 1
    fillet_1_edges = [part.edges().sort_by_distance(p)[0] for p in [
        (3, 18.990381057, 30),
        (3, 18.990381057, 0),
        (3, 96.729490169, 0),
        (3, 130.270509831, 0),
        (3, 96.729490169, 30),
        (3, 130.270509831, 30),
        (3, 93.872213574, 4),
        (3, 91.089065169, 13),
        (3, 85.005828051, 13),
        (3, 81.730095943, 4),
        (3, 91.089065169, 17),
        (3, 93.872213574, 26),
        (3, 81.730095943, 26),
        (3, 85.005828051, 17),
        (3, 72.5, 15),
        (3, 78.761187147, 7.538207724),
        (3, 81.47705743, 15),
        (3, 78.761187147, 22.461792276),
        (3, 55.798294078, 4),
        (3, 68.5, 4),
        (3, 68.5, 26),
        (3, 38.477786002, 26),
        (3, 51.179491924, 4),
        (3, 63.881197846, 26),
        (3, 21.157277926, 4),
        (3, 46.560689771, 4),
        (3, 33.858983849, 26),
        (3, 11, 26),
        (3, 11, 4),
        (3, 16.538475773, 4),
        (3, 29.240181695, 26),
        (3, 171.201705922, 4),
        (3, 158.5, 26),
        (3, 158.5, 4),
        (3, 141.994171949, 17),
        (3, 145.269904057, 26),
        (3, 133.127786426, 26),
        (3, 135.910934831, 17),
        (3, 135.910934831, 13),
        (3, 133.127786426, 4),
        (3, 145.269904057, 4),
        (3, 141.994171949, 13),
        (3, 145.52294257, 15),
        (3, 148.238812853, 7.538207724),
        (3, 154.5, 15),
        (3, 148.238812853, 22.461792276),
        (3, 175.820508076, 4),
        (3, 188.522213998, 26),
        (3, 163.118802154, 26),
        (3, 180.439310229, 4),
        (3, 205.842722074, 4),
        (3, 193.141016151, 26),
        (3, 216, 4),
        (3, 216, 26),
        (3, 197.759818305, 26),
        (3, 210.461524227, 4),
        (3, 208.009618943, 0),
        (3, 208.009618943, 30),
    ]]
    fillet(fillet_1_edges, radius=FILLET_1_R)


solid = part.part
